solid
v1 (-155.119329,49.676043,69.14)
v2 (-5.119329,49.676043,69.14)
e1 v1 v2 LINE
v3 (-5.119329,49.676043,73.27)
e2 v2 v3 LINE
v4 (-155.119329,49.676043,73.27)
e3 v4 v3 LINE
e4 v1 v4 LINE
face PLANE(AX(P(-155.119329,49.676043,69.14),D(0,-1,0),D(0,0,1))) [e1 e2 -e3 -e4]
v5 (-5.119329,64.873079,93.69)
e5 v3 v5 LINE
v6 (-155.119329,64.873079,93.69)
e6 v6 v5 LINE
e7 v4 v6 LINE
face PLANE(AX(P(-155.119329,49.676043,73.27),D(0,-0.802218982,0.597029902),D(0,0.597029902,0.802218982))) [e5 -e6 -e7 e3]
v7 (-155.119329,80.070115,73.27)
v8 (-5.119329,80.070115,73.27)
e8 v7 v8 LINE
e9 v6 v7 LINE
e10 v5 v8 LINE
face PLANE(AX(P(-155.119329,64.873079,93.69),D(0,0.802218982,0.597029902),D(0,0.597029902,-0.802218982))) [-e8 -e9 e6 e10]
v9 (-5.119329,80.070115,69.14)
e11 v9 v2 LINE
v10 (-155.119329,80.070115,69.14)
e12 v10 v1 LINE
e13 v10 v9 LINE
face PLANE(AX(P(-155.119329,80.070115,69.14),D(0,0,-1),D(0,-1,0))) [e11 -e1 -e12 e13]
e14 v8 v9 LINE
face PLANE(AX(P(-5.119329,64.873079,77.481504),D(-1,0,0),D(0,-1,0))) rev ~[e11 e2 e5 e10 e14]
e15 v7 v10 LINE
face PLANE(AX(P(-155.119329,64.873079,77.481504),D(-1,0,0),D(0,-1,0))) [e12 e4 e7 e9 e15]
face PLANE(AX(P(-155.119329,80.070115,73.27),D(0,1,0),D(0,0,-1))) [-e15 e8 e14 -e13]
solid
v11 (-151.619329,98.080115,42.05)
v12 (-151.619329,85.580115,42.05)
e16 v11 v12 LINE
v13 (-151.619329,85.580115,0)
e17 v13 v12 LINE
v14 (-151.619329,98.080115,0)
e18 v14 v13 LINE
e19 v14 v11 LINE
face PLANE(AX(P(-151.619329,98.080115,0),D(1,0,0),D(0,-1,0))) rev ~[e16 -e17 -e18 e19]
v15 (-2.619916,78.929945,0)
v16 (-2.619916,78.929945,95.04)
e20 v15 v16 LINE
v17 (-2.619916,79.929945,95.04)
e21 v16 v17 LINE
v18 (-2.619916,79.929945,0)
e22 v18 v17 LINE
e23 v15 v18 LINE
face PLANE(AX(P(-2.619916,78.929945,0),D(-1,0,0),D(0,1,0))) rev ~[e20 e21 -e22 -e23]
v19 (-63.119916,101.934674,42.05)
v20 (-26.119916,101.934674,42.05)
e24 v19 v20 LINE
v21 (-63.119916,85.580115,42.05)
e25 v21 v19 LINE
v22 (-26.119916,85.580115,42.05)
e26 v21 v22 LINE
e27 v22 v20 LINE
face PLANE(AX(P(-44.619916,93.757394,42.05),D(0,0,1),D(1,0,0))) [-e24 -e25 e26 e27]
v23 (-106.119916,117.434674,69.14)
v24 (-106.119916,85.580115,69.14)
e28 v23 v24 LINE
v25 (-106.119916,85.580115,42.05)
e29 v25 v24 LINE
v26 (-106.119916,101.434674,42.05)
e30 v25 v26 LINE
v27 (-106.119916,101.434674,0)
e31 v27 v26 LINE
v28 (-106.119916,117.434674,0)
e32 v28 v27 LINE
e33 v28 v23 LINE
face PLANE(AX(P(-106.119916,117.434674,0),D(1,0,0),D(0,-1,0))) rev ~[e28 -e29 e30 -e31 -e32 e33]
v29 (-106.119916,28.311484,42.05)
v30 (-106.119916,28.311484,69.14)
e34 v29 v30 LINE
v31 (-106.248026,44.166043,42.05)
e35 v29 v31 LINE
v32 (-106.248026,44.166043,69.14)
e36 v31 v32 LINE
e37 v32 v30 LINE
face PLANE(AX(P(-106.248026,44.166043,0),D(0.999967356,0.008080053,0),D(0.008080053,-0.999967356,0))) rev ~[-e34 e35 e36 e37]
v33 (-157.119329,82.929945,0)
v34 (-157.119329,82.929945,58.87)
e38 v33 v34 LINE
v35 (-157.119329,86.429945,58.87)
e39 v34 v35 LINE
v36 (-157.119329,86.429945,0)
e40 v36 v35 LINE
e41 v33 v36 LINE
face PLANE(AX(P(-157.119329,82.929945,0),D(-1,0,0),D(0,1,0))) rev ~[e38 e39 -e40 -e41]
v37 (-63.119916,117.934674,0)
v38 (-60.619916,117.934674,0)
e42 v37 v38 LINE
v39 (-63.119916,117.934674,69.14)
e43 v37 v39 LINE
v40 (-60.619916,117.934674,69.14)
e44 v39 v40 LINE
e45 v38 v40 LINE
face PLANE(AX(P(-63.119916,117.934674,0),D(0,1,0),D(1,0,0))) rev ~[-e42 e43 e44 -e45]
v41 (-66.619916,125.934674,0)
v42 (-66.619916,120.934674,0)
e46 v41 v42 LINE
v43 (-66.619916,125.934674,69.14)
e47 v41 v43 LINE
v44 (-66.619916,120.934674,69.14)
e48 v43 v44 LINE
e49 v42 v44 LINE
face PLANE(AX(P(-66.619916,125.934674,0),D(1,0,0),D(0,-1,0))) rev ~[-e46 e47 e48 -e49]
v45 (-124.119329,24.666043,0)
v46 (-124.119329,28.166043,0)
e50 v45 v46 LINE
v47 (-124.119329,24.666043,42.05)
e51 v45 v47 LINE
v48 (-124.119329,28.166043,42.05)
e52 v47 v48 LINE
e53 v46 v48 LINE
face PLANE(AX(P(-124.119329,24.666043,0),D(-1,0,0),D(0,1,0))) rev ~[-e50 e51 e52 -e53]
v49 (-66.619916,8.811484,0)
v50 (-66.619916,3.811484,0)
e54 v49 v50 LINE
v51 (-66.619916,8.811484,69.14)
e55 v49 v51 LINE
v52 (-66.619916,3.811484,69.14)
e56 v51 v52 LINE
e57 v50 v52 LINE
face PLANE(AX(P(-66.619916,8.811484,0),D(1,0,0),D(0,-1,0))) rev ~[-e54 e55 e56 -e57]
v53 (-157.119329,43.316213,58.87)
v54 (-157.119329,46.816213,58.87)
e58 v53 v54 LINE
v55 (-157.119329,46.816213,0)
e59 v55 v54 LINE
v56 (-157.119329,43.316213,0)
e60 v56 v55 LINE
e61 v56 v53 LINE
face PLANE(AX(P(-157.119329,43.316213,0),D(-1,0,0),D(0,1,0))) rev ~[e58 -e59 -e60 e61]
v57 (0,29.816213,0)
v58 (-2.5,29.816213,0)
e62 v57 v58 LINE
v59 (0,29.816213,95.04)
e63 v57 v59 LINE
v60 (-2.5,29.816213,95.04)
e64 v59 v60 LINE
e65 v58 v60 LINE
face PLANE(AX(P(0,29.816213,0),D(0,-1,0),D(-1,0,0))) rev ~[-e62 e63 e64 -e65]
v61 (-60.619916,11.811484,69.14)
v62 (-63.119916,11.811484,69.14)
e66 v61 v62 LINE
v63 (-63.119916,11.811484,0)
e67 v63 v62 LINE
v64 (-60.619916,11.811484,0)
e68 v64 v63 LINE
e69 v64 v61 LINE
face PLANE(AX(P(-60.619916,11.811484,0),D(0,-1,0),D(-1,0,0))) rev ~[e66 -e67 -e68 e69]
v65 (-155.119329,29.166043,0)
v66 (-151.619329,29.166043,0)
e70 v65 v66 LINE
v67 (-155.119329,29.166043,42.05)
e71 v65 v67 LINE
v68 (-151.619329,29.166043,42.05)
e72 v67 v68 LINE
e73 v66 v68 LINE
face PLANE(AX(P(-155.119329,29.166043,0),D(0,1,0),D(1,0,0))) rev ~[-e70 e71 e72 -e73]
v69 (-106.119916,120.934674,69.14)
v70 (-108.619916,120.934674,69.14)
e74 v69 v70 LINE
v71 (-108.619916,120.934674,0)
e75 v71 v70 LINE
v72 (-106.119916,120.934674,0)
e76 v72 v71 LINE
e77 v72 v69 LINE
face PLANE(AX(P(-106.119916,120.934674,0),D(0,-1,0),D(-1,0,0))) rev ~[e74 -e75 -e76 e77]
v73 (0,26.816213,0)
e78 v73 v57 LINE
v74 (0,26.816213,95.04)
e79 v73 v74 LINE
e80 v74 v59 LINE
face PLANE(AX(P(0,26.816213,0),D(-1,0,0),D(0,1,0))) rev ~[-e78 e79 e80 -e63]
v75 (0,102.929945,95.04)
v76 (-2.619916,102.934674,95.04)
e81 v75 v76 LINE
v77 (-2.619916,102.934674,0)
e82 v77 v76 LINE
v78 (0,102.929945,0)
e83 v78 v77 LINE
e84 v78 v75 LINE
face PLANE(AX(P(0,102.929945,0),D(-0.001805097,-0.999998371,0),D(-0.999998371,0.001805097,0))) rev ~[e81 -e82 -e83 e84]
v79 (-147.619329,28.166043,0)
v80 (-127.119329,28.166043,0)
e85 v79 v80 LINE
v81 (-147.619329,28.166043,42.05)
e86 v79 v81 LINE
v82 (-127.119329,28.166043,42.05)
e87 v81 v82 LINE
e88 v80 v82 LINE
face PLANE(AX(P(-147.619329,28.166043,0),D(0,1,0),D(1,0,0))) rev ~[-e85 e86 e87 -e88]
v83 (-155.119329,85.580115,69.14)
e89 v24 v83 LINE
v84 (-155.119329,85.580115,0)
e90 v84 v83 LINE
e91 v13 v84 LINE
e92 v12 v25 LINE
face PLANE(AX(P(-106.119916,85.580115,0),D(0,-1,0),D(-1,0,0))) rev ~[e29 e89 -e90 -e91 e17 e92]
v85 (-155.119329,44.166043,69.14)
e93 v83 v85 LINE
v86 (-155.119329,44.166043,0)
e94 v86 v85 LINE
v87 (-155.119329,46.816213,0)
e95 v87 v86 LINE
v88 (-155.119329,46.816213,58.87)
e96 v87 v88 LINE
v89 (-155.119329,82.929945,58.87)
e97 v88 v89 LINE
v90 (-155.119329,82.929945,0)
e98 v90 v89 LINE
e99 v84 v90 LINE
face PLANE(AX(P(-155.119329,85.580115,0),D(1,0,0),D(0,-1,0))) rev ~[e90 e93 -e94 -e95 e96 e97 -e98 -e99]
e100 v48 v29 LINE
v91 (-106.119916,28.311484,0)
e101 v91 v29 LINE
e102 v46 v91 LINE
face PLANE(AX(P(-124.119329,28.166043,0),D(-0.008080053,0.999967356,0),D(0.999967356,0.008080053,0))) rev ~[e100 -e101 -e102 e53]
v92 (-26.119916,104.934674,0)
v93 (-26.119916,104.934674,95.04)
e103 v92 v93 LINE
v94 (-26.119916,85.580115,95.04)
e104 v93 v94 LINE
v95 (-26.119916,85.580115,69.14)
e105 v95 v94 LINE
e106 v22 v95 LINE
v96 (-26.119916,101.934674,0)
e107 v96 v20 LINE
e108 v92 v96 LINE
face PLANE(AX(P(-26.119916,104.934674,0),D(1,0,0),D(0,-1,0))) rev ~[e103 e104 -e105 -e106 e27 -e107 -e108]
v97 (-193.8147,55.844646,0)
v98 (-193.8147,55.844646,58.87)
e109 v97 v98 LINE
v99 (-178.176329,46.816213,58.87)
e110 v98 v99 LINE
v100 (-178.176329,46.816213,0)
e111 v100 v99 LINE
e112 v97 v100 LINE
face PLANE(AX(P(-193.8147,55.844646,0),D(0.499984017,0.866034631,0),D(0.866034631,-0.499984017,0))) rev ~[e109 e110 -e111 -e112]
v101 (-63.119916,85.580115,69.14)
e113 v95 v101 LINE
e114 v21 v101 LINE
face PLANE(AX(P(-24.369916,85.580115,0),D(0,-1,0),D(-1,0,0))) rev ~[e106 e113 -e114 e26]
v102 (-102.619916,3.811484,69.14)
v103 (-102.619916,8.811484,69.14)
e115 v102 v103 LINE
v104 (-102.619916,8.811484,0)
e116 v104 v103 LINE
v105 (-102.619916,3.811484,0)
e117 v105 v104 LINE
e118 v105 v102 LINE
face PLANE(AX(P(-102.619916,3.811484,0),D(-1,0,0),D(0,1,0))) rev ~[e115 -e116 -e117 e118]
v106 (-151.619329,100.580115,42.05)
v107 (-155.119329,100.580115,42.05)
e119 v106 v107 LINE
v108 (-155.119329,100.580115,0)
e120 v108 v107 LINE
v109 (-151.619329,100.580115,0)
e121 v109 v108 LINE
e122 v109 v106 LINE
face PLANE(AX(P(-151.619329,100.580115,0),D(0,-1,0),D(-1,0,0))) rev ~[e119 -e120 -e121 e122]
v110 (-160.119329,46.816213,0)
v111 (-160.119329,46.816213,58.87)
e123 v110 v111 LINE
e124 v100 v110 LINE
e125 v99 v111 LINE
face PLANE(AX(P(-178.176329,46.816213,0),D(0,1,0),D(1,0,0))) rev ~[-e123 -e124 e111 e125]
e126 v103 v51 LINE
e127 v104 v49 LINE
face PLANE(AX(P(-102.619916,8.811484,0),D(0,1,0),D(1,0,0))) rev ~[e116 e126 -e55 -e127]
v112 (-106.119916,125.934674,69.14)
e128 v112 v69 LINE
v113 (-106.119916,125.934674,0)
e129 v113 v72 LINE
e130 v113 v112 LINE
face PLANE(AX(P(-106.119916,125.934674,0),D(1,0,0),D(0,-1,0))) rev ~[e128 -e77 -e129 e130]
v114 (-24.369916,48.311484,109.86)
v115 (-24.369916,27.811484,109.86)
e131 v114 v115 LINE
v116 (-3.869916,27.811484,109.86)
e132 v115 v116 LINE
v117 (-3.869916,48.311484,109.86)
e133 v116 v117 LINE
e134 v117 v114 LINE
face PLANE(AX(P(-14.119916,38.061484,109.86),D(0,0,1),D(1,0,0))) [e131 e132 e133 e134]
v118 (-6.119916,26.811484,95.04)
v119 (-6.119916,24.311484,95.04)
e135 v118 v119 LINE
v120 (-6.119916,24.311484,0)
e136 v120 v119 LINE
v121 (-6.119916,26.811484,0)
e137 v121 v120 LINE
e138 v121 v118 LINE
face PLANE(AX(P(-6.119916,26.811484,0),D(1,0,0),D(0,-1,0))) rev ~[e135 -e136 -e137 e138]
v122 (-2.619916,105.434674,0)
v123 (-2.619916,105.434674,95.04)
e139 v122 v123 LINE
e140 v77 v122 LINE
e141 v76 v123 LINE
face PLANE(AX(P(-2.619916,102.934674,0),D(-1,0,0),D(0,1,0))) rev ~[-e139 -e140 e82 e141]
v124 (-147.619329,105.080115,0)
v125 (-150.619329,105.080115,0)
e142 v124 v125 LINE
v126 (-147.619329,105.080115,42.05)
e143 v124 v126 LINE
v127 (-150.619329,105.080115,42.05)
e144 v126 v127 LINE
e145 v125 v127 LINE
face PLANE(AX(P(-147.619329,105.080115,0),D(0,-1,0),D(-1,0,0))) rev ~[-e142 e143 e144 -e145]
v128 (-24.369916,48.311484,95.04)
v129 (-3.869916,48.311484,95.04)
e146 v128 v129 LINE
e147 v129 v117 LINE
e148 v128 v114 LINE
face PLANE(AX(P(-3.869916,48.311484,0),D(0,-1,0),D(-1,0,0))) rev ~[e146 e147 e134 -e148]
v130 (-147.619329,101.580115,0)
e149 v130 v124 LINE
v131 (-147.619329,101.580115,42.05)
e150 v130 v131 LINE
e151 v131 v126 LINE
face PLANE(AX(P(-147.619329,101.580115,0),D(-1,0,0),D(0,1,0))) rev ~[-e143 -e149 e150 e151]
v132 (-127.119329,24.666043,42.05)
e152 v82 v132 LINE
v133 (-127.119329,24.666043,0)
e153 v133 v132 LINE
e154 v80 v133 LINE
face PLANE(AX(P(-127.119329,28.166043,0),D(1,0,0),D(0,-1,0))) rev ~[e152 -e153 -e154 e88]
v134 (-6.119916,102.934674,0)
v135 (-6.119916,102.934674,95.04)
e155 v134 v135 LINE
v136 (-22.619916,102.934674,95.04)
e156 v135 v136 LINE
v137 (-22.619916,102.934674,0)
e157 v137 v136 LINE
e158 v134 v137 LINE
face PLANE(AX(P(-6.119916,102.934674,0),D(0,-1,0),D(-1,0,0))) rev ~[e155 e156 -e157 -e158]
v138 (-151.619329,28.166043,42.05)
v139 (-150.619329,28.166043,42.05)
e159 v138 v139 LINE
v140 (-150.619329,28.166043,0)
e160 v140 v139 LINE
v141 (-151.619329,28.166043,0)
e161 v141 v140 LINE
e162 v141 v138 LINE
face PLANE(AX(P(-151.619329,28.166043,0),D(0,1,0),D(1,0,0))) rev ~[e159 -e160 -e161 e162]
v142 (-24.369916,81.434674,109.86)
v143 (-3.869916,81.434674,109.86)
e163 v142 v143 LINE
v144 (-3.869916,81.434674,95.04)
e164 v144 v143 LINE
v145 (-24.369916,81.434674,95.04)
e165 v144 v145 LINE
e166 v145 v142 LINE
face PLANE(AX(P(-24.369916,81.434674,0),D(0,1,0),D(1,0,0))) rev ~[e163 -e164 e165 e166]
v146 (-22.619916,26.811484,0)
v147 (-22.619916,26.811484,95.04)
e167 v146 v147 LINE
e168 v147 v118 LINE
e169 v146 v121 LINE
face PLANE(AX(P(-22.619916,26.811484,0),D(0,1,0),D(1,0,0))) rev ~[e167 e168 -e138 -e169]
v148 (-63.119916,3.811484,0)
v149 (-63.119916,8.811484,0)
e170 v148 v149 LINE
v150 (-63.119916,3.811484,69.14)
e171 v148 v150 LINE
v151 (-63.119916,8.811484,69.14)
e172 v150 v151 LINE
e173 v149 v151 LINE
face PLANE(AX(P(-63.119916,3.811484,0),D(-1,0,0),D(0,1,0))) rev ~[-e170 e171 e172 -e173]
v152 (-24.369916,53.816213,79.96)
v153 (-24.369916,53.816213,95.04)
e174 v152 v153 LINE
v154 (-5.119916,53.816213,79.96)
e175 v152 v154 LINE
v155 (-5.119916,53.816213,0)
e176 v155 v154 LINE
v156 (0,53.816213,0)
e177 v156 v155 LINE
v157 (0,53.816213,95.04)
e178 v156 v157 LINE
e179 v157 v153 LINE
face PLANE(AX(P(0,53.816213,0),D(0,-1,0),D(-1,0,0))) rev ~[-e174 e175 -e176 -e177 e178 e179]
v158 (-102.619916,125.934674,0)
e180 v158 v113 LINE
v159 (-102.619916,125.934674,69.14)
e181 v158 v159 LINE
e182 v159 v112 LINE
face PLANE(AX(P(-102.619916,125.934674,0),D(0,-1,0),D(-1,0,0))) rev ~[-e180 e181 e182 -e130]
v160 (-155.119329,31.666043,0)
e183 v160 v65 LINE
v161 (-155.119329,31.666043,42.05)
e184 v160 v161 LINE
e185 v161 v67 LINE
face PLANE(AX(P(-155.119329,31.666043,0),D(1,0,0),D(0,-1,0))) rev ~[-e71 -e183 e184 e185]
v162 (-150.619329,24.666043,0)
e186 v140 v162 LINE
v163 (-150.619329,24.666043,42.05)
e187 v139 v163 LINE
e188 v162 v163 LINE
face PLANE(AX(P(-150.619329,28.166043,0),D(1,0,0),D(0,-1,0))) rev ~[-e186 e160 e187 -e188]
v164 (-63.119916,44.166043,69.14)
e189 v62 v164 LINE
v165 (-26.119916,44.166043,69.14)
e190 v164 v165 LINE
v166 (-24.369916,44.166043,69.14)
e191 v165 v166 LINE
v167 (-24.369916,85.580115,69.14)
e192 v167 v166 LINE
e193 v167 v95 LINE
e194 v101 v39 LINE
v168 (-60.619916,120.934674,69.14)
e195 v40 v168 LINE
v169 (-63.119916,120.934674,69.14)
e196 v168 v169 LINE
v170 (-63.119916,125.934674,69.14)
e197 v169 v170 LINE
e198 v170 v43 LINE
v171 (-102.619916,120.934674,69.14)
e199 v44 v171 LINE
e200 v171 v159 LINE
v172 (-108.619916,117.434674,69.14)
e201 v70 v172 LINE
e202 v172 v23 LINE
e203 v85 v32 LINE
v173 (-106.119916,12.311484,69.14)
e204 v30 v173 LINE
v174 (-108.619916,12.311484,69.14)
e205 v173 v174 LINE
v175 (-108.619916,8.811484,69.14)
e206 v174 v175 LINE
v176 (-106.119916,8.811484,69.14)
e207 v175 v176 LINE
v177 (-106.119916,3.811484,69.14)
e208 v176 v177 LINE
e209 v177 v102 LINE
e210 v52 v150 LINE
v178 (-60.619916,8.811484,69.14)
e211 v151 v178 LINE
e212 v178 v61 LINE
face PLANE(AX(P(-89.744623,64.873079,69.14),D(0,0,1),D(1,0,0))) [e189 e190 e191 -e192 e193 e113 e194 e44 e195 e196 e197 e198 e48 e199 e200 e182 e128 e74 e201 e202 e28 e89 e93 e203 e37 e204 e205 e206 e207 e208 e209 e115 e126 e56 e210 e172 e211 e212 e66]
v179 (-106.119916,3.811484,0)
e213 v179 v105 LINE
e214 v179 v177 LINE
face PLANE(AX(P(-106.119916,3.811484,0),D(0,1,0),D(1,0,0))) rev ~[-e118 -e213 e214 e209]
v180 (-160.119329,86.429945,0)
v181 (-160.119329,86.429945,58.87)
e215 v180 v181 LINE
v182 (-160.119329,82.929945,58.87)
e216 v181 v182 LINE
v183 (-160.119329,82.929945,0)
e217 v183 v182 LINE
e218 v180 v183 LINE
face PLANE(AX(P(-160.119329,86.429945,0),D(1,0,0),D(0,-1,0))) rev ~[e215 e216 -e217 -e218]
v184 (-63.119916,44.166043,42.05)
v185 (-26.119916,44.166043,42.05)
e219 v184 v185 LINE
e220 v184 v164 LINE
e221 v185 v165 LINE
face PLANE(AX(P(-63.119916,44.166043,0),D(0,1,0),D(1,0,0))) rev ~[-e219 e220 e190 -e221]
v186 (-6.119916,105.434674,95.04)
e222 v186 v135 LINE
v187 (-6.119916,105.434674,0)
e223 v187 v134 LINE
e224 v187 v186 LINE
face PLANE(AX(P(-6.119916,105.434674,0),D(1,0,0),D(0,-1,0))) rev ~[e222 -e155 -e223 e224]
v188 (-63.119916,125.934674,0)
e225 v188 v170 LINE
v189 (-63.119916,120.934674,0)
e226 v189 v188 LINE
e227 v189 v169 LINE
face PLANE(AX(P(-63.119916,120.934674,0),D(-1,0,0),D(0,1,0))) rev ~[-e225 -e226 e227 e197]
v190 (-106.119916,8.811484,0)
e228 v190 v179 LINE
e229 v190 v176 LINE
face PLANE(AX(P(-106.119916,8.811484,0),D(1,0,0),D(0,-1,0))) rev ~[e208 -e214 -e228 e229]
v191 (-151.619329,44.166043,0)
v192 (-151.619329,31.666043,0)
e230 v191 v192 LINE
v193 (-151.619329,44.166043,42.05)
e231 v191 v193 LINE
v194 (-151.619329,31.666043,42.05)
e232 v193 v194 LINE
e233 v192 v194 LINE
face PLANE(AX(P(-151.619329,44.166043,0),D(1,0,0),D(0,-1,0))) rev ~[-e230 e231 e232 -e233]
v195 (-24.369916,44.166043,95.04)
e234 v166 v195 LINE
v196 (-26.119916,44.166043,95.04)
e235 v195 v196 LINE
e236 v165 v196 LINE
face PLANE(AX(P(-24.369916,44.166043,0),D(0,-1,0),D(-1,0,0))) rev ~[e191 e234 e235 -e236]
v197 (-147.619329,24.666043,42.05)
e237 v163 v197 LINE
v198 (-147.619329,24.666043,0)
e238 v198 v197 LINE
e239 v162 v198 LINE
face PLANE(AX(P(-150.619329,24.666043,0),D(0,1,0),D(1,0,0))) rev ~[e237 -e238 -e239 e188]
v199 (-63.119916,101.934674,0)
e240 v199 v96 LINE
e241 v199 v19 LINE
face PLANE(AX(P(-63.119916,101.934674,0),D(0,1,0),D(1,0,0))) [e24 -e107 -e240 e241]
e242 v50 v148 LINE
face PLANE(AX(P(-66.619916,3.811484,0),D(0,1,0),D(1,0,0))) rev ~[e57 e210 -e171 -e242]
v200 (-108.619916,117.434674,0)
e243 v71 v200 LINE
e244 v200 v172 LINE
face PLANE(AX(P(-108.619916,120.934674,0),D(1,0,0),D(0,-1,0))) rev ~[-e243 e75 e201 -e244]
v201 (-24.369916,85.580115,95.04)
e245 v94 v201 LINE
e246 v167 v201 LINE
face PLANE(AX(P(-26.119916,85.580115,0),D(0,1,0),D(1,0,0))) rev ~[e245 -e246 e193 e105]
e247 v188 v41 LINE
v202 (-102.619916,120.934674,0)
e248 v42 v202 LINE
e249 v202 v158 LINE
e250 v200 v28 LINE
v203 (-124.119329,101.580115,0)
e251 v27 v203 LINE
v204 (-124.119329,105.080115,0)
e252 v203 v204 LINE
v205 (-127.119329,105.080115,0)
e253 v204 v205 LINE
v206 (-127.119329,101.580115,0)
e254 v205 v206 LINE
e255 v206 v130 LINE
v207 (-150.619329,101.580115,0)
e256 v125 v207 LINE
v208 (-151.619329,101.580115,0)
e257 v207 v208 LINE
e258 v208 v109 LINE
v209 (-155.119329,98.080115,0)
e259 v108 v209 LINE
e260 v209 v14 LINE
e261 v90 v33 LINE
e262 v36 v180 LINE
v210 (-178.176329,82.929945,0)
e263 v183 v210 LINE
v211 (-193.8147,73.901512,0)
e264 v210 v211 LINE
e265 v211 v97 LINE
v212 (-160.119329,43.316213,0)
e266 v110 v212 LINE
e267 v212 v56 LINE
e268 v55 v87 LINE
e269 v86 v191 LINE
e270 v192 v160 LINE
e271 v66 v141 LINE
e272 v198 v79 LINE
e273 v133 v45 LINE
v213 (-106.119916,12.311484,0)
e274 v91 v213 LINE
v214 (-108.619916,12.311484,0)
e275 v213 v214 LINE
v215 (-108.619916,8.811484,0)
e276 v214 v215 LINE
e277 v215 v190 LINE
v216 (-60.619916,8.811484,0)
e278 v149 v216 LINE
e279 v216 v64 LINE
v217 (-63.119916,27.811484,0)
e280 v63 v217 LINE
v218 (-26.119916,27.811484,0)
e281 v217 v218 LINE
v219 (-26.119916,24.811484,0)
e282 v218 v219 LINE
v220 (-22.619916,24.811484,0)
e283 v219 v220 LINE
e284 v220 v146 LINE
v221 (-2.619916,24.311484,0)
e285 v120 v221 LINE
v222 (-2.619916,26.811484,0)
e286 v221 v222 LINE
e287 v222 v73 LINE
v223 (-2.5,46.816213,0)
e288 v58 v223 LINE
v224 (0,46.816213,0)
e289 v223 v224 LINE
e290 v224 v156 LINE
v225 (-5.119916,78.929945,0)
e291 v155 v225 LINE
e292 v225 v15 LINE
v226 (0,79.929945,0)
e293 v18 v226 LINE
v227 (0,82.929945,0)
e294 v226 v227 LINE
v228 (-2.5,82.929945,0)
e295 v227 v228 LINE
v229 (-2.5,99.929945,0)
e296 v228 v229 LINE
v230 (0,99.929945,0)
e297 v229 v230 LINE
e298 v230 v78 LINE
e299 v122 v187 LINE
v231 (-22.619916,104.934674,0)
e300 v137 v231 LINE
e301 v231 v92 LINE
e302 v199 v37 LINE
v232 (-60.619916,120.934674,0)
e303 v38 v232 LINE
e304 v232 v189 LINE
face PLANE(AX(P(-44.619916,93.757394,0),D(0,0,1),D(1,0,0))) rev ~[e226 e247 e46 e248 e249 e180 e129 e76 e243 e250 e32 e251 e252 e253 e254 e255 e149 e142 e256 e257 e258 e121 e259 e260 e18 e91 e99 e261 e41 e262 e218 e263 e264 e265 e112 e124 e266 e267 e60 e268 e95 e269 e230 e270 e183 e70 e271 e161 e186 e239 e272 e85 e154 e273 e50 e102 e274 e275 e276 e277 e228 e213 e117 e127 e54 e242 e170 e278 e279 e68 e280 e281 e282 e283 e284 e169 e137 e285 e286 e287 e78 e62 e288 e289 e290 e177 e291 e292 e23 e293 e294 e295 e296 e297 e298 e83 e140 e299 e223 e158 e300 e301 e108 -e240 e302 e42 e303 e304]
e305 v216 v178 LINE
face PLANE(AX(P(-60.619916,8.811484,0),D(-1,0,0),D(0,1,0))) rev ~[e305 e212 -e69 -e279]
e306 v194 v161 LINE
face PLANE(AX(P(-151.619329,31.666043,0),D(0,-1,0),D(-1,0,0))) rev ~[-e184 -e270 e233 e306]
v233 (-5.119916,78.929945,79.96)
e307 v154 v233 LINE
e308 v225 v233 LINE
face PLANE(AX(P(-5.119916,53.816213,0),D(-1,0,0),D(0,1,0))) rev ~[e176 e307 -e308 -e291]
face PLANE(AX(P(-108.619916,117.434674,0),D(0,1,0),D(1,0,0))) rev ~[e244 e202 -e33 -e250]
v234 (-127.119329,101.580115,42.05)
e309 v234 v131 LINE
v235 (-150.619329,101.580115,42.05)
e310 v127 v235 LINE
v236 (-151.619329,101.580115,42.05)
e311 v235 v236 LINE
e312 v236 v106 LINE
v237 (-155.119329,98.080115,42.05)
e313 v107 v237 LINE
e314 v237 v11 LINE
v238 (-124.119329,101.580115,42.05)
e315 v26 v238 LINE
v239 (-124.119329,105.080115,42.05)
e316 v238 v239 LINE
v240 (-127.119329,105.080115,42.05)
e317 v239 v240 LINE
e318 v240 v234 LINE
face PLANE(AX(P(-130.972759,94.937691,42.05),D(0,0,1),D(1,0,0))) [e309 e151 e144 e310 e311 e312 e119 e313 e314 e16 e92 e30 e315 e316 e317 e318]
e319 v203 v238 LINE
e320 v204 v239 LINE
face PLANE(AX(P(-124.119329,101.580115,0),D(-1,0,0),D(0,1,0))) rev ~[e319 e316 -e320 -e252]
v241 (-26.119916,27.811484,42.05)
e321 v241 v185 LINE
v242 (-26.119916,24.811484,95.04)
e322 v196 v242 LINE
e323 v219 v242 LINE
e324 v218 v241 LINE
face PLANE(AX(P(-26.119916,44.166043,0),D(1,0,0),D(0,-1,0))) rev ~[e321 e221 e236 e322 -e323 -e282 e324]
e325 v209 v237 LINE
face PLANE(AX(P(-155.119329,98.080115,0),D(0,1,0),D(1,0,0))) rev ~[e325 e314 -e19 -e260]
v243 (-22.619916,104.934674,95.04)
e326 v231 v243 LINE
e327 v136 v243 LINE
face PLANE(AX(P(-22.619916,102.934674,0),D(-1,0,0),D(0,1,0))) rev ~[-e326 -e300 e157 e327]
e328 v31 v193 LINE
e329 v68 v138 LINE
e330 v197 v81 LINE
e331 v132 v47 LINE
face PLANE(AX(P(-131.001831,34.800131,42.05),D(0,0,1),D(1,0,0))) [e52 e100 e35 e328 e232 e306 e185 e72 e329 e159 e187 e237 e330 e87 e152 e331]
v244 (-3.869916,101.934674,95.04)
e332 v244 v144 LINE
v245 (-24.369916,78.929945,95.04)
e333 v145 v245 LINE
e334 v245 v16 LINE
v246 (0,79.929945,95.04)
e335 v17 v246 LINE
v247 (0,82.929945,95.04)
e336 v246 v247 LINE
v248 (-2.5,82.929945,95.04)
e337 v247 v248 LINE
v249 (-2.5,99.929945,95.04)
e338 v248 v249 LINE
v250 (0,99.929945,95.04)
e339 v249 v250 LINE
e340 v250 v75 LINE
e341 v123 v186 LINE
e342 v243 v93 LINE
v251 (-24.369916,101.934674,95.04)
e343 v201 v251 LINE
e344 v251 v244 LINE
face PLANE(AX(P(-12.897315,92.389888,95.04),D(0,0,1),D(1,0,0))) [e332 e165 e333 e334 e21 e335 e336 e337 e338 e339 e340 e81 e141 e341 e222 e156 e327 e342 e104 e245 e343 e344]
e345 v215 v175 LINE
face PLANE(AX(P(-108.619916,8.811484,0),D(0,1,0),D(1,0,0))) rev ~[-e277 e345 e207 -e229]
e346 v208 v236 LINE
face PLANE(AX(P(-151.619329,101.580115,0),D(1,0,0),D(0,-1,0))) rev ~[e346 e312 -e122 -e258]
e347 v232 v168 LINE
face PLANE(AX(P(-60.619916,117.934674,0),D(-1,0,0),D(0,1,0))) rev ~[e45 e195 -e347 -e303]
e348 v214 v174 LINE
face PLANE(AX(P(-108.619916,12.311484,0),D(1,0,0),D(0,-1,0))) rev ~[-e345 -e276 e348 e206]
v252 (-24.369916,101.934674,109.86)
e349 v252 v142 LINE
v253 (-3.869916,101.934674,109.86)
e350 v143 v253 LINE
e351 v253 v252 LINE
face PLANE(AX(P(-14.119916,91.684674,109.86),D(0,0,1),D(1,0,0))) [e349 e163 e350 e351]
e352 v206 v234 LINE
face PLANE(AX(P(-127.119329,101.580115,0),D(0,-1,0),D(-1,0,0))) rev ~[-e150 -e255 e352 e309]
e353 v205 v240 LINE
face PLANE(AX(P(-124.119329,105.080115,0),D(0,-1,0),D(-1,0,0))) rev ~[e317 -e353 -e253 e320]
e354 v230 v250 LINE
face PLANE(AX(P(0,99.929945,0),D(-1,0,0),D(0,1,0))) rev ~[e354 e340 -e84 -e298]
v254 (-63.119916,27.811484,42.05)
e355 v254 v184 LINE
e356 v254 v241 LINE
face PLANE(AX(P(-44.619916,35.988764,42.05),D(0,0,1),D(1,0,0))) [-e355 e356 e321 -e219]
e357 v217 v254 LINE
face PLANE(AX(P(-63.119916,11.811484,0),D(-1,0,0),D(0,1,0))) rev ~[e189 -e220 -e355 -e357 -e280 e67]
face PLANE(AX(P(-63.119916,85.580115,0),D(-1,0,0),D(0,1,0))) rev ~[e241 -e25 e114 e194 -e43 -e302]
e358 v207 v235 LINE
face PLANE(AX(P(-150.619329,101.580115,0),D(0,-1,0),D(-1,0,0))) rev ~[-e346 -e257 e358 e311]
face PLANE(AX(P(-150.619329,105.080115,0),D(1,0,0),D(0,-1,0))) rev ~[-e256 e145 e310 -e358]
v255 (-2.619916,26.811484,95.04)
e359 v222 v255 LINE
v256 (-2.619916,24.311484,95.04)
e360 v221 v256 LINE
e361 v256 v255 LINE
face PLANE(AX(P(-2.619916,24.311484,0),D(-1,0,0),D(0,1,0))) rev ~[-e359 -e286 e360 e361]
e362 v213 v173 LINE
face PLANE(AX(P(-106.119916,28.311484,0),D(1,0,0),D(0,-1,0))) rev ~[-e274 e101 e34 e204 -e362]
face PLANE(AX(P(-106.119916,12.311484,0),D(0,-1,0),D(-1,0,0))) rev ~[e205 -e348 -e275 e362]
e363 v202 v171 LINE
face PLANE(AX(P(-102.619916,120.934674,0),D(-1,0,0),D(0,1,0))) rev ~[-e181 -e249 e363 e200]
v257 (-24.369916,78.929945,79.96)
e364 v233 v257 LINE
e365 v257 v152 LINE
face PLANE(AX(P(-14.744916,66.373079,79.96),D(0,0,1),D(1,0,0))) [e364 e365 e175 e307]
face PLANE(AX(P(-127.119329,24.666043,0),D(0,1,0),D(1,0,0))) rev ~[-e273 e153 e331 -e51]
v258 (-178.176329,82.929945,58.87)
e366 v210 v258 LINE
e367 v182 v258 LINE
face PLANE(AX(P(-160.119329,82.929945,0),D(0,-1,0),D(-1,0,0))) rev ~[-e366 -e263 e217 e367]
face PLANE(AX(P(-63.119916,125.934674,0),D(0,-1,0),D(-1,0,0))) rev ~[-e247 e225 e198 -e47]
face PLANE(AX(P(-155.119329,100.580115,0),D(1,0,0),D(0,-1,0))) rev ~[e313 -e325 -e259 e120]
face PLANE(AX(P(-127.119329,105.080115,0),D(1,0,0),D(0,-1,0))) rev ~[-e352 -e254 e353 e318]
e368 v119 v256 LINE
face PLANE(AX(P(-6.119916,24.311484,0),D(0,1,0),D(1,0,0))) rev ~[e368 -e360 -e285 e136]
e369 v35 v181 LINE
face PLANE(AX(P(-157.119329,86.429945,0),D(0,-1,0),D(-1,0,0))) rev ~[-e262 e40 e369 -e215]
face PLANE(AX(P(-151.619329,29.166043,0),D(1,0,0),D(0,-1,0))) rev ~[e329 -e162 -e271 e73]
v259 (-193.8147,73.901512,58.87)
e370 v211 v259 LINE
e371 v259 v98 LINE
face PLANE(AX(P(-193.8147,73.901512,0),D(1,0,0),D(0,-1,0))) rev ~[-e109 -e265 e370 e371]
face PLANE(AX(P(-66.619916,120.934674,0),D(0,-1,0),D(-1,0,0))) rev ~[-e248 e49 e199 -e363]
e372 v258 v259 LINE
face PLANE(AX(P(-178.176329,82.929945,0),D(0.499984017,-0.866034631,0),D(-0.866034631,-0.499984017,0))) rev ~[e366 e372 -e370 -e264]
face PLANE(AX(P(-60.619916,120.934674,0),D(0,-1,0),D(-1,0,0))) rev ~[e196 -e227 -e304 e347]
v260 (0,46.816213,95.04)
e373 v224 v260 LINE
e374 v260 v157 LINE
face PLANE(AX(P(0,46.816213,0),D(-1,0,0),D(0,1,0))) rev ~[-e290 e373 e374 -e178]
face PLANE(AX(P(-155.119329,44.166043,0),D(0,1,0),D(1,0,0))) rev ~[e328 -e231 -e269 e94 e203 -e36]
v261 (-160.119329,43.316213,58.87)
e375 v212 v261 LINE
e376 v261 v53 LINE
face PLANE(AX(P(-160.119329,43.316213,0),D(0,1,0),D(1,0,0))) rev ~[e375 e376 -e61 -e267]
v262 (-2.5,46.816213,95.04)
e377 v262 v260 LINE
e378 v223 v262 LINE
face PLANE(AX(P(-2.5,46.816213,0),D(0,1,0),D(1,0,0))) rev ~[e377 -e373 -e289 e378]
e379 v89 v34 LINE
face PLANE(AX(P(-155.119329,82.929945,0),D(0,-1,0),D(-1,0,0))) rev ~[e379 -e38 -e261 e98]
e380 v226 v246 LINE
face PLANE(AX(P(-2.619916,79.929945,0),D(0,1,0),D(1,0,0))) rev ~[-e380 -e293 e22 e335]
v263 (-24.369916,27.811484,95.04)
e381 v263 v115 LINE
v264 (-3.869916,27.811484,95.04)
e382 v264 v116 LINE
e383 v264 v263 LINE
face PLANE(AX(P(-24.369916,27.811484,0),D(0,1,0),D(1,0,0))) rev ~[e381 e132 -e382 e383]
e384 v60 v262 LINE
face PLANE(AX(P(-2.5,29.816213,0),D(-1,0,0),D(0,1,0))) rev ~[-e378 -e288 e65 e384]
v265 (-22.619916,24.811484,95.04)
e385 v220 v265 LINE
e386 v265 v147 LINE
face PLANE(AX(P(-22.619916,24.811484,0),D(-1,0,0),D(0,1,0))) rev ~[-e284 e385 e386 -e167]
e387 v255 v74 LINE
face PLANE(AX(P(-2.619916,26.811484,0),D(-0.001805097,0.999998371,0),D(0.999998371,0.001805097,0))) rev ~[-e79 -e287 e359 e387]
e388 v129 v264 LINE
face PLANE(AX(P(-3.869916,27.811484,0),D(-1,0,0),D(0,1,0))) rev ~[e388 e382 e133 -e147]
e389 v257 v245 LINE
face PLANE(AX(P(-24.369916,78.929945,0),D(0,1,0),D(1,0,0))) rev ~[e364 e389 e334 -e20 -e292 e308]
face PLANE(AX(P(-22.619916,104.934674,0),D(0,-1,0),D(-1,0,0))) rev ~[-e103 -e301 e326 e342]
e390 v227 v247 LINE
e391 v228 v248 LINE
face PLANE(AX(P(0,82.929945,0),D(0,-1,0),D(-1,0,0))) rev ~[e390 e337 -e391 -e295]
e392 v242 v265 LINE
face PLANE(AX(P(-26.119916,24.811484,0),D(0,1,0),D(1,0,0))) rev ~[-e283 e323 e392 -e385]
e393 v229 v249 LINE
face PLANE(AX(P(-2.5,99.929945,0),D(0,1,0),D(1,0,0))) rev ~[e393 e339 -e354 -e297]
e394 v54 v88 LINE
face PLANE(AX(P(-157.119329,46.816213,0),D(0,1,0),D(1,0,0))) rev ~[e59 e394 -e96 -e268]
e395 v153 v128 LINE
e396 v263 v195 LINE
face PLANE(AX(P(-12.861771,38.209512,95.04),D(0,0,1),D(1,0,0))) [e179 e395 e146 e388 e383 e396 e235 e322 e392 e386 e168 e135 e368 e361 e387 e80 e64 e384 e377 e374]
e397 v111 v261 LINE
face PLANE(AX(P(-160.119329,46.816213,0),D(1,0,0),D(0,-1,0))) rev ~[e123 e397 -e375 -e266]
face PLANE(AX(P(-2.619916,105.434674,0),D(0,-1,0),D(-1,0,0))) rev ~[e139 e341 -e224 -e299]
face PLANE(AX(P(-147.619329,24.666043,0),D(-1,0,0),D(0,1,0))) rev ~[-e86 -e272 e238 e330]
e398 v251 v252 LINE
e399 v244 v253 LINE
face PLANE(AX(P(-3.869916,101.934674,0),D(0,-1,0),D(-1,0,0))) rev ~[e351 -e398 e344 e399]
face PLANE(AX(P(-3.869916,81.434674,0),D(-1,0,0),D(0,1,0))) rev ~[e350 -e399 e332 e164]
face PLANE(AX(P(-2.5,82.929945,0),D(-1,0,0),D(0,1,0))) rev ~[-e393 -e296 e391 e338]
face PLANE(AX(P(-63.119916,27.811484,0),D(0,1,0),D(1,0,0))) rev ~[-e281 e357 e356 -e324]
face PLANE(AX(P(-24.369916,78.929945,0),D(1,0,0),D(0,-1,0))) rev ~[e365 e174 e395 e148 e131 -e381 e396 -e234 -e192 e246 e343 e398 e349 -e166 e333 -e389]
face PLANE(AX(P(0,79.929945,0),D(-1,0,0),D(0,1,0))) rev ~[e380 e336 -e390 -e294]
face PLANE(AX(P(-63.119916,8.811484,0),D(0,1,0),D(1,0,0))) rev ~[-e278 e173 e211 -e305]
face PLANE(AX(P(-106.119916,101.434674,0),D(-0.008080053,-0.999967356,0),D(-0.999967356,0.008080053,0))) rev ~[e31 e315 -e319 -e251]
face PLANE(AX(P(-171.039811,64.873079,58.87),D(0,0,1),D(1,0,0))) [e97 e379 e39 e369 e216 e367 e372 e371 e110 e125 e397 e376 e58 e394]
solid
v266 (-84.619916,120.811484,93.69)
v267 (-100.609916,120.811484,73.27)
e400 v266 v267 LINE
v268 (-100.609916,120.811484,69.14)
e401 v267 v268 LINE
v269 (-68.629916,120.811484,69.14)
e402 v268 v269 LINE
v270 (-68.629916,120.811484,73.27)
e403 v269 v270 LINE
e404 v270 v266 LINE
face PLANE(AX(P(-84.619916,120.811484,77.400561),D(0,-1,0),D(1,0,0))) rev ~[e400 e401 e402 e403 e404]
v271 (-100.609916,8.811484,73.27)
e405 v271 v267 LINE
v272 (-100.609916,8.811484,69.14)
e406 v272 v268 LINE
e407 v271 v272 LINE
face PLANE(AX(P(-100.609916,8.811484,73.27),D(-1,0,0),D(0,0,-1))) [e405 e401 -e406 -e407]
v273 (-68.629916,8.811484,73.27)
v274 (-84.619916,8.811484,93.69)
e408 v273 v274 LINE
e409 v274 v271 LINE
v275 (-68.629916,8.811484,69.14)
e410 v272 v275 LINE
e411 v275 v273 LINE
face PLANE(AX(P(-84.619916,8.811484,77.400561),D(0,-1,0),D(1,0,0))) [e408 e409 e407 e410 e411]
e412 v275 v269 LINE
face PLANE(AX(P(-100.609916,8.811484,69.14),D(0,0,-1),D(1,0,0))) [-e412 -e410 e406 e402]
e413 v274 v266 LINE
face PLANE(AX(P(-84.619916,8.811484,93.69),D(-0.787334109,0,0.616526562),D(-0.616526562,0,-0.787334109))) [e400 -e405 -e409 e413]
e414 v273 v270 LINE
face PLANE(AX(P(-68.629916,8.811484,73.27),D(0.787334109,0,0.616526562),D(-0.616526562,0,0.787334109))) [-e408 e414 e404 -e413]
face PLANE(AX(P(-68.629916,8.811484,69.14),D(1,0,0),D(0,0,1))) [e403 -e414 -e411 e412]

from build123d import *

# Parameters (mm, degrees)
F1_DEPTH  = 58.87
F2_DEPTH  = 69.14
F3_DEPTH  = 109.86
F4_DEPTH  = 95.04
F0_W      = 37
F0_H      = 16.3545590473
F5_DEPTH  = 42.05
F6_DEPTH  = 79.96
F8_DEPTH  = 150
F10_DEPTH = 112


with BuildPart() as f1:
    # F0 (on Top) → F1 (new body)
    with BuildSketch(Plane.XY):
        Polygon((-155.1193287611, 46.8162132949), (-155.1193287611, 82.9299445897), (-157.1193287611, 82.9299445897), (-157.1193287611, 86.4299445897), (-160.1193287611, 86.4299445897), (-160.1193287611, 82.9299445897), (-178.1763287611, 82.9299445897), (-193.8146996498, 73.901511766), (-193.8146996498, 64.8730789423), (-193.8146996498, 55.8446461186), (-178.1763287611, 46.8162132949), (-160.1193287611, 46.8162132949), (-160.1193287611, 43.3162132949), (-157.1193287611, 43.3162132949), (-157.1193287611, 46.8162132949), align=None)
    extrude(amount=F1_DEPTH)

    # F0 (on Top) → F2 (join)
    with BuildSketch(Plane.XY):
        Polygon((-24.369916356, 85.5801147534), (-26.119916356, 85.5801147534), (-63.119916356, 85.5801147534), (-106.119916356, 85.5801147534), (-151.6193287611, 85.5801147534), (-155.1193287611, 85.5801147534), (-155.1193287611, 82.9299445897), (-155.1193287611, 46.8162132949), (-155.1193287611, 44.1660431312), (-151.6193287611, 44.1660431312), (-106.2480262143, 44.1660431312), (-63.119916356, 44.1660431312), (-26.119916356, 44.1660431312), (-24.369916356, 44.1660431312), (-24.369916356, 48.3114840839), (-24.369916356, 53.8162132949), (-24.369916356, 78.9299445897), (-24.369916356, 81.4346738007), align=None)
        Polygon((-63.119916356, 85.5801147534), (-63.119916356, 101.9346738007), (-63.119916356, 117.9346738007), (-60.619916356, 117.9346738007), (-60.619916356, 120.9346738007), (-63.119916356, 120.9346738007), (-63.119916356, 125.9346738007), (-66.619916356, 125.9346738007), (-66.619916356, 120.9346738007), (-102.619916356, 120.9346738007), (-102.619916356, 125.9346738007), (-106.119916356, 125.9346738007), (-106.119916356, 120.9346738007), (-108.619916356, 120.9346738007), (-108.619916356, 117.4346738007), (-106.119916356, 117.4346738007), (-106.119916356, 101.4346738007), (-106.119916356, 85.5801147534), align=None)
        Polygon((-63.119916356, 27.8114840839), (-63.119916356, 44.1660431312), (-106.2480262143, 44.1660431312), (-106.119916356, 28.3114840839), (-106.119916356, 12.3114840839), (-108.619916356, 12.3114840839), (-108.619916356, 8.8114840839), (-106.119916356, 8.8114840839), (-106.119916356, 3.8114840839), (-102.619916356, 3.8114840839), (-102.619916356, 8.8114840839), (-66.619916356, 8.8114840839), (-66.619916356, 3.8114840839), (-63.119916356, 3.8114840839), (-63.119916356, 8.8114840839), (-60.619916356, 8.8114840839), (-60.619916356, 11.8114840839), (-63.119916356, 11.8114840839), align=None)
    extrude(amount=F2_DEPTH)

    # F0 (on Top) → F3 (join)
    with BuildSketch(Plane.XY):
        Polygon((-24.369916356, 101.9346738007), (-24.369916356, 85.5801147534), (-24.369916356, 81.4346738007), (-3.869916356, 81.4346738007), (-3.869916356, 101.9346738007), align=None)
        Polygon((-3.869916356, 48.3114840839), (-24.369916356, 48.3114840839), (-24.369916356, 44.1660431312), (-24.369916356, 27.8114840839), (-3.869916356, 27.8114840839), align=None)
    extrude(amount=F3_DEPTH)

    # F0 (on Top) → F4 (join)
    with BuildSketch(Plane.XY):
        Polygon((-5.119916356, 53.8162132949), (-24.369916356, 53.8162132949), (-24.369916356, 48.3114840839), (-3.869916356, 48.3114840839), (-3.869916356, 27.8114840839), (-24.369916356, 27.8114840839), (-24.369916356, 44.1660431312), (-26.119916356, 44.1660431312), (-26.119916356, 27.8114840839), (-26.119916356, 24.8114840839), (-22.619916356, 24.8114840839), (-22.619916356, 26.8114840839), (-6.119916356, 26.8114840839), (-6.119916356, 24.3114840839), (-2.619916356, 24.3114840839), (-2.619916356, 26.8114840839), (0, 26.8162132949), (0, 29.8162132949), (-2.5, 29.8162132949), (-2.5, 46.8162132949), (0, 46.8162132949), (0, 53.8162132949), align=None)
        Polygon((-2.619916356, 102.9346738007), (-2.619916356, 105.4346738007), (-6.119916356, 105.4346738007), (-6.119916356, 102.9346738007), (-22.619916356, 102.9346738007), (-22.619916356, 104.9346738007), (-26.119916356, 104.9346738007), (-26.119916356, 101.9346738007), (-26.119916356, 85.5801147534), (-24.369916356, 85.5801147534), (-24.369916356, 101.9346738007), (-3.869916356, 101.9346738007), (-3.869916356, 81.4346738007), (-24.369916356, 81.4346738007), (-24.369916356, 78.9299445897), (-5.119916356, 78.9299445897), (-2.619916356, 78.9299445897), (-2.619916356, 79.9299445897), (0, 79.9299445897), (0, 82.9299445897), (-2.5, 82.9299445897), (-2.5, 99.9299445897), (0, 99.9299445897), (0, 102.9299445897), align=None)
    extrude(amount=F4_DEPTH)

    # F0 (on Top) → F5 (join)
    with BuildSketch(Plane.XY):
        with Locations((-44.619916356, 93.7573942771)):
            Rectangle(F0_W, F0_H)
        Polygon((-151.6193287611, 85.5801147534), (-106.119916356, 85.5801147534), (-106.119916356, 101.4346738007), (-124.1193287611, 101.5801147534), (-124.1193287611, 105.0801147534), (-127.1193287611, 105.0801147534), (-127.1193287611, 101.5801147534), (-147.6193287611, 101.5801147534), (-147.6193287611, 105.0801147534), (-150.6193287611, 105.0801147534), (-150.6193287611, 101.5801147534), (-151.6193287611, 101.5801147534), (-151.6193287611, 100.5801147534), (-155.1193287611, 100.5801147534), (-155.1193287611, 98.0801147534), (-151.6193287611, 98.0801147534), align=None)
        with Locations((-44.619916356, 35.9887636075)):
            Rectangle(F0_W, F0_H)
        Polygon((-106.2480262143, 44.1660431312), (-151.6193287611, 44.1660431312), (-151.6193287611, 31.6660431312), (-155.1193287611, 31.6660431312), (-155.1193287611, 29.1660431312), (-151.6193287611, 29.1660431312), (-151.6193287611, 28.1660431312), (-150.6193287611, 28.1660431312), (-150.6193287611, 24.6660431312), (-147.6193287611, 24.6660431312), (-147.6193287611, 28.1660431312), (-127.1193287611, 28.1660431312), (-127.1193287611, 24.6660431312), (-124.1193287611, 24.6660431312), (-124.1193287611, 28.1660431312), (-106.119916356, 28.3114840839), align=None)
    extrude(amount=F5_DEPTH)

    # F0 (on Top) → F6 (join)
    with BuildSketch(Plane.XY):
        Polygon((-5.119916356, 64.8730789423), (-5.119916356, 78.9299445897), (-24.369916356, 78.9299445897), (-24.369916356, 53.8162132949), (-5.119916356, 53.8162132949), align=None)
    extrude(amount=F6_DEPTH)


with BuildPart() as f8:
    # F7 (on face) → F8 (new body)
    with BuildSketch(Plane(origin=(-155.1193287611, 0, 0), x_dir=(0, -1, 0), z_dir=(-1, 0, 0))):
        Polygon((-80.0701147534, 73.27), (-80.0701147534, 69.14), (-49.6760431312, 69.14), (-49.6760431312, 73.27), (-64.8730789423, 93.69), align=None)
    extrude(amount=-F8_DEPTH)


with BuildPart() as f10:
    # F9 (on face) → F10 (new body)
    with BuildSketch(Plane.XZ.offset(-8.8114840839)):
        Polygon((-100.609916356, 73.27), (-100.609916356, 69.14), (-68.629916356, 69.14), (-68.629916356, 73.27), (-84.619916356, 93.69), align=None)
    extrude(amount=-F10_DEPTH)


solid = Compound([f1.part, f8.part, f10.part])
